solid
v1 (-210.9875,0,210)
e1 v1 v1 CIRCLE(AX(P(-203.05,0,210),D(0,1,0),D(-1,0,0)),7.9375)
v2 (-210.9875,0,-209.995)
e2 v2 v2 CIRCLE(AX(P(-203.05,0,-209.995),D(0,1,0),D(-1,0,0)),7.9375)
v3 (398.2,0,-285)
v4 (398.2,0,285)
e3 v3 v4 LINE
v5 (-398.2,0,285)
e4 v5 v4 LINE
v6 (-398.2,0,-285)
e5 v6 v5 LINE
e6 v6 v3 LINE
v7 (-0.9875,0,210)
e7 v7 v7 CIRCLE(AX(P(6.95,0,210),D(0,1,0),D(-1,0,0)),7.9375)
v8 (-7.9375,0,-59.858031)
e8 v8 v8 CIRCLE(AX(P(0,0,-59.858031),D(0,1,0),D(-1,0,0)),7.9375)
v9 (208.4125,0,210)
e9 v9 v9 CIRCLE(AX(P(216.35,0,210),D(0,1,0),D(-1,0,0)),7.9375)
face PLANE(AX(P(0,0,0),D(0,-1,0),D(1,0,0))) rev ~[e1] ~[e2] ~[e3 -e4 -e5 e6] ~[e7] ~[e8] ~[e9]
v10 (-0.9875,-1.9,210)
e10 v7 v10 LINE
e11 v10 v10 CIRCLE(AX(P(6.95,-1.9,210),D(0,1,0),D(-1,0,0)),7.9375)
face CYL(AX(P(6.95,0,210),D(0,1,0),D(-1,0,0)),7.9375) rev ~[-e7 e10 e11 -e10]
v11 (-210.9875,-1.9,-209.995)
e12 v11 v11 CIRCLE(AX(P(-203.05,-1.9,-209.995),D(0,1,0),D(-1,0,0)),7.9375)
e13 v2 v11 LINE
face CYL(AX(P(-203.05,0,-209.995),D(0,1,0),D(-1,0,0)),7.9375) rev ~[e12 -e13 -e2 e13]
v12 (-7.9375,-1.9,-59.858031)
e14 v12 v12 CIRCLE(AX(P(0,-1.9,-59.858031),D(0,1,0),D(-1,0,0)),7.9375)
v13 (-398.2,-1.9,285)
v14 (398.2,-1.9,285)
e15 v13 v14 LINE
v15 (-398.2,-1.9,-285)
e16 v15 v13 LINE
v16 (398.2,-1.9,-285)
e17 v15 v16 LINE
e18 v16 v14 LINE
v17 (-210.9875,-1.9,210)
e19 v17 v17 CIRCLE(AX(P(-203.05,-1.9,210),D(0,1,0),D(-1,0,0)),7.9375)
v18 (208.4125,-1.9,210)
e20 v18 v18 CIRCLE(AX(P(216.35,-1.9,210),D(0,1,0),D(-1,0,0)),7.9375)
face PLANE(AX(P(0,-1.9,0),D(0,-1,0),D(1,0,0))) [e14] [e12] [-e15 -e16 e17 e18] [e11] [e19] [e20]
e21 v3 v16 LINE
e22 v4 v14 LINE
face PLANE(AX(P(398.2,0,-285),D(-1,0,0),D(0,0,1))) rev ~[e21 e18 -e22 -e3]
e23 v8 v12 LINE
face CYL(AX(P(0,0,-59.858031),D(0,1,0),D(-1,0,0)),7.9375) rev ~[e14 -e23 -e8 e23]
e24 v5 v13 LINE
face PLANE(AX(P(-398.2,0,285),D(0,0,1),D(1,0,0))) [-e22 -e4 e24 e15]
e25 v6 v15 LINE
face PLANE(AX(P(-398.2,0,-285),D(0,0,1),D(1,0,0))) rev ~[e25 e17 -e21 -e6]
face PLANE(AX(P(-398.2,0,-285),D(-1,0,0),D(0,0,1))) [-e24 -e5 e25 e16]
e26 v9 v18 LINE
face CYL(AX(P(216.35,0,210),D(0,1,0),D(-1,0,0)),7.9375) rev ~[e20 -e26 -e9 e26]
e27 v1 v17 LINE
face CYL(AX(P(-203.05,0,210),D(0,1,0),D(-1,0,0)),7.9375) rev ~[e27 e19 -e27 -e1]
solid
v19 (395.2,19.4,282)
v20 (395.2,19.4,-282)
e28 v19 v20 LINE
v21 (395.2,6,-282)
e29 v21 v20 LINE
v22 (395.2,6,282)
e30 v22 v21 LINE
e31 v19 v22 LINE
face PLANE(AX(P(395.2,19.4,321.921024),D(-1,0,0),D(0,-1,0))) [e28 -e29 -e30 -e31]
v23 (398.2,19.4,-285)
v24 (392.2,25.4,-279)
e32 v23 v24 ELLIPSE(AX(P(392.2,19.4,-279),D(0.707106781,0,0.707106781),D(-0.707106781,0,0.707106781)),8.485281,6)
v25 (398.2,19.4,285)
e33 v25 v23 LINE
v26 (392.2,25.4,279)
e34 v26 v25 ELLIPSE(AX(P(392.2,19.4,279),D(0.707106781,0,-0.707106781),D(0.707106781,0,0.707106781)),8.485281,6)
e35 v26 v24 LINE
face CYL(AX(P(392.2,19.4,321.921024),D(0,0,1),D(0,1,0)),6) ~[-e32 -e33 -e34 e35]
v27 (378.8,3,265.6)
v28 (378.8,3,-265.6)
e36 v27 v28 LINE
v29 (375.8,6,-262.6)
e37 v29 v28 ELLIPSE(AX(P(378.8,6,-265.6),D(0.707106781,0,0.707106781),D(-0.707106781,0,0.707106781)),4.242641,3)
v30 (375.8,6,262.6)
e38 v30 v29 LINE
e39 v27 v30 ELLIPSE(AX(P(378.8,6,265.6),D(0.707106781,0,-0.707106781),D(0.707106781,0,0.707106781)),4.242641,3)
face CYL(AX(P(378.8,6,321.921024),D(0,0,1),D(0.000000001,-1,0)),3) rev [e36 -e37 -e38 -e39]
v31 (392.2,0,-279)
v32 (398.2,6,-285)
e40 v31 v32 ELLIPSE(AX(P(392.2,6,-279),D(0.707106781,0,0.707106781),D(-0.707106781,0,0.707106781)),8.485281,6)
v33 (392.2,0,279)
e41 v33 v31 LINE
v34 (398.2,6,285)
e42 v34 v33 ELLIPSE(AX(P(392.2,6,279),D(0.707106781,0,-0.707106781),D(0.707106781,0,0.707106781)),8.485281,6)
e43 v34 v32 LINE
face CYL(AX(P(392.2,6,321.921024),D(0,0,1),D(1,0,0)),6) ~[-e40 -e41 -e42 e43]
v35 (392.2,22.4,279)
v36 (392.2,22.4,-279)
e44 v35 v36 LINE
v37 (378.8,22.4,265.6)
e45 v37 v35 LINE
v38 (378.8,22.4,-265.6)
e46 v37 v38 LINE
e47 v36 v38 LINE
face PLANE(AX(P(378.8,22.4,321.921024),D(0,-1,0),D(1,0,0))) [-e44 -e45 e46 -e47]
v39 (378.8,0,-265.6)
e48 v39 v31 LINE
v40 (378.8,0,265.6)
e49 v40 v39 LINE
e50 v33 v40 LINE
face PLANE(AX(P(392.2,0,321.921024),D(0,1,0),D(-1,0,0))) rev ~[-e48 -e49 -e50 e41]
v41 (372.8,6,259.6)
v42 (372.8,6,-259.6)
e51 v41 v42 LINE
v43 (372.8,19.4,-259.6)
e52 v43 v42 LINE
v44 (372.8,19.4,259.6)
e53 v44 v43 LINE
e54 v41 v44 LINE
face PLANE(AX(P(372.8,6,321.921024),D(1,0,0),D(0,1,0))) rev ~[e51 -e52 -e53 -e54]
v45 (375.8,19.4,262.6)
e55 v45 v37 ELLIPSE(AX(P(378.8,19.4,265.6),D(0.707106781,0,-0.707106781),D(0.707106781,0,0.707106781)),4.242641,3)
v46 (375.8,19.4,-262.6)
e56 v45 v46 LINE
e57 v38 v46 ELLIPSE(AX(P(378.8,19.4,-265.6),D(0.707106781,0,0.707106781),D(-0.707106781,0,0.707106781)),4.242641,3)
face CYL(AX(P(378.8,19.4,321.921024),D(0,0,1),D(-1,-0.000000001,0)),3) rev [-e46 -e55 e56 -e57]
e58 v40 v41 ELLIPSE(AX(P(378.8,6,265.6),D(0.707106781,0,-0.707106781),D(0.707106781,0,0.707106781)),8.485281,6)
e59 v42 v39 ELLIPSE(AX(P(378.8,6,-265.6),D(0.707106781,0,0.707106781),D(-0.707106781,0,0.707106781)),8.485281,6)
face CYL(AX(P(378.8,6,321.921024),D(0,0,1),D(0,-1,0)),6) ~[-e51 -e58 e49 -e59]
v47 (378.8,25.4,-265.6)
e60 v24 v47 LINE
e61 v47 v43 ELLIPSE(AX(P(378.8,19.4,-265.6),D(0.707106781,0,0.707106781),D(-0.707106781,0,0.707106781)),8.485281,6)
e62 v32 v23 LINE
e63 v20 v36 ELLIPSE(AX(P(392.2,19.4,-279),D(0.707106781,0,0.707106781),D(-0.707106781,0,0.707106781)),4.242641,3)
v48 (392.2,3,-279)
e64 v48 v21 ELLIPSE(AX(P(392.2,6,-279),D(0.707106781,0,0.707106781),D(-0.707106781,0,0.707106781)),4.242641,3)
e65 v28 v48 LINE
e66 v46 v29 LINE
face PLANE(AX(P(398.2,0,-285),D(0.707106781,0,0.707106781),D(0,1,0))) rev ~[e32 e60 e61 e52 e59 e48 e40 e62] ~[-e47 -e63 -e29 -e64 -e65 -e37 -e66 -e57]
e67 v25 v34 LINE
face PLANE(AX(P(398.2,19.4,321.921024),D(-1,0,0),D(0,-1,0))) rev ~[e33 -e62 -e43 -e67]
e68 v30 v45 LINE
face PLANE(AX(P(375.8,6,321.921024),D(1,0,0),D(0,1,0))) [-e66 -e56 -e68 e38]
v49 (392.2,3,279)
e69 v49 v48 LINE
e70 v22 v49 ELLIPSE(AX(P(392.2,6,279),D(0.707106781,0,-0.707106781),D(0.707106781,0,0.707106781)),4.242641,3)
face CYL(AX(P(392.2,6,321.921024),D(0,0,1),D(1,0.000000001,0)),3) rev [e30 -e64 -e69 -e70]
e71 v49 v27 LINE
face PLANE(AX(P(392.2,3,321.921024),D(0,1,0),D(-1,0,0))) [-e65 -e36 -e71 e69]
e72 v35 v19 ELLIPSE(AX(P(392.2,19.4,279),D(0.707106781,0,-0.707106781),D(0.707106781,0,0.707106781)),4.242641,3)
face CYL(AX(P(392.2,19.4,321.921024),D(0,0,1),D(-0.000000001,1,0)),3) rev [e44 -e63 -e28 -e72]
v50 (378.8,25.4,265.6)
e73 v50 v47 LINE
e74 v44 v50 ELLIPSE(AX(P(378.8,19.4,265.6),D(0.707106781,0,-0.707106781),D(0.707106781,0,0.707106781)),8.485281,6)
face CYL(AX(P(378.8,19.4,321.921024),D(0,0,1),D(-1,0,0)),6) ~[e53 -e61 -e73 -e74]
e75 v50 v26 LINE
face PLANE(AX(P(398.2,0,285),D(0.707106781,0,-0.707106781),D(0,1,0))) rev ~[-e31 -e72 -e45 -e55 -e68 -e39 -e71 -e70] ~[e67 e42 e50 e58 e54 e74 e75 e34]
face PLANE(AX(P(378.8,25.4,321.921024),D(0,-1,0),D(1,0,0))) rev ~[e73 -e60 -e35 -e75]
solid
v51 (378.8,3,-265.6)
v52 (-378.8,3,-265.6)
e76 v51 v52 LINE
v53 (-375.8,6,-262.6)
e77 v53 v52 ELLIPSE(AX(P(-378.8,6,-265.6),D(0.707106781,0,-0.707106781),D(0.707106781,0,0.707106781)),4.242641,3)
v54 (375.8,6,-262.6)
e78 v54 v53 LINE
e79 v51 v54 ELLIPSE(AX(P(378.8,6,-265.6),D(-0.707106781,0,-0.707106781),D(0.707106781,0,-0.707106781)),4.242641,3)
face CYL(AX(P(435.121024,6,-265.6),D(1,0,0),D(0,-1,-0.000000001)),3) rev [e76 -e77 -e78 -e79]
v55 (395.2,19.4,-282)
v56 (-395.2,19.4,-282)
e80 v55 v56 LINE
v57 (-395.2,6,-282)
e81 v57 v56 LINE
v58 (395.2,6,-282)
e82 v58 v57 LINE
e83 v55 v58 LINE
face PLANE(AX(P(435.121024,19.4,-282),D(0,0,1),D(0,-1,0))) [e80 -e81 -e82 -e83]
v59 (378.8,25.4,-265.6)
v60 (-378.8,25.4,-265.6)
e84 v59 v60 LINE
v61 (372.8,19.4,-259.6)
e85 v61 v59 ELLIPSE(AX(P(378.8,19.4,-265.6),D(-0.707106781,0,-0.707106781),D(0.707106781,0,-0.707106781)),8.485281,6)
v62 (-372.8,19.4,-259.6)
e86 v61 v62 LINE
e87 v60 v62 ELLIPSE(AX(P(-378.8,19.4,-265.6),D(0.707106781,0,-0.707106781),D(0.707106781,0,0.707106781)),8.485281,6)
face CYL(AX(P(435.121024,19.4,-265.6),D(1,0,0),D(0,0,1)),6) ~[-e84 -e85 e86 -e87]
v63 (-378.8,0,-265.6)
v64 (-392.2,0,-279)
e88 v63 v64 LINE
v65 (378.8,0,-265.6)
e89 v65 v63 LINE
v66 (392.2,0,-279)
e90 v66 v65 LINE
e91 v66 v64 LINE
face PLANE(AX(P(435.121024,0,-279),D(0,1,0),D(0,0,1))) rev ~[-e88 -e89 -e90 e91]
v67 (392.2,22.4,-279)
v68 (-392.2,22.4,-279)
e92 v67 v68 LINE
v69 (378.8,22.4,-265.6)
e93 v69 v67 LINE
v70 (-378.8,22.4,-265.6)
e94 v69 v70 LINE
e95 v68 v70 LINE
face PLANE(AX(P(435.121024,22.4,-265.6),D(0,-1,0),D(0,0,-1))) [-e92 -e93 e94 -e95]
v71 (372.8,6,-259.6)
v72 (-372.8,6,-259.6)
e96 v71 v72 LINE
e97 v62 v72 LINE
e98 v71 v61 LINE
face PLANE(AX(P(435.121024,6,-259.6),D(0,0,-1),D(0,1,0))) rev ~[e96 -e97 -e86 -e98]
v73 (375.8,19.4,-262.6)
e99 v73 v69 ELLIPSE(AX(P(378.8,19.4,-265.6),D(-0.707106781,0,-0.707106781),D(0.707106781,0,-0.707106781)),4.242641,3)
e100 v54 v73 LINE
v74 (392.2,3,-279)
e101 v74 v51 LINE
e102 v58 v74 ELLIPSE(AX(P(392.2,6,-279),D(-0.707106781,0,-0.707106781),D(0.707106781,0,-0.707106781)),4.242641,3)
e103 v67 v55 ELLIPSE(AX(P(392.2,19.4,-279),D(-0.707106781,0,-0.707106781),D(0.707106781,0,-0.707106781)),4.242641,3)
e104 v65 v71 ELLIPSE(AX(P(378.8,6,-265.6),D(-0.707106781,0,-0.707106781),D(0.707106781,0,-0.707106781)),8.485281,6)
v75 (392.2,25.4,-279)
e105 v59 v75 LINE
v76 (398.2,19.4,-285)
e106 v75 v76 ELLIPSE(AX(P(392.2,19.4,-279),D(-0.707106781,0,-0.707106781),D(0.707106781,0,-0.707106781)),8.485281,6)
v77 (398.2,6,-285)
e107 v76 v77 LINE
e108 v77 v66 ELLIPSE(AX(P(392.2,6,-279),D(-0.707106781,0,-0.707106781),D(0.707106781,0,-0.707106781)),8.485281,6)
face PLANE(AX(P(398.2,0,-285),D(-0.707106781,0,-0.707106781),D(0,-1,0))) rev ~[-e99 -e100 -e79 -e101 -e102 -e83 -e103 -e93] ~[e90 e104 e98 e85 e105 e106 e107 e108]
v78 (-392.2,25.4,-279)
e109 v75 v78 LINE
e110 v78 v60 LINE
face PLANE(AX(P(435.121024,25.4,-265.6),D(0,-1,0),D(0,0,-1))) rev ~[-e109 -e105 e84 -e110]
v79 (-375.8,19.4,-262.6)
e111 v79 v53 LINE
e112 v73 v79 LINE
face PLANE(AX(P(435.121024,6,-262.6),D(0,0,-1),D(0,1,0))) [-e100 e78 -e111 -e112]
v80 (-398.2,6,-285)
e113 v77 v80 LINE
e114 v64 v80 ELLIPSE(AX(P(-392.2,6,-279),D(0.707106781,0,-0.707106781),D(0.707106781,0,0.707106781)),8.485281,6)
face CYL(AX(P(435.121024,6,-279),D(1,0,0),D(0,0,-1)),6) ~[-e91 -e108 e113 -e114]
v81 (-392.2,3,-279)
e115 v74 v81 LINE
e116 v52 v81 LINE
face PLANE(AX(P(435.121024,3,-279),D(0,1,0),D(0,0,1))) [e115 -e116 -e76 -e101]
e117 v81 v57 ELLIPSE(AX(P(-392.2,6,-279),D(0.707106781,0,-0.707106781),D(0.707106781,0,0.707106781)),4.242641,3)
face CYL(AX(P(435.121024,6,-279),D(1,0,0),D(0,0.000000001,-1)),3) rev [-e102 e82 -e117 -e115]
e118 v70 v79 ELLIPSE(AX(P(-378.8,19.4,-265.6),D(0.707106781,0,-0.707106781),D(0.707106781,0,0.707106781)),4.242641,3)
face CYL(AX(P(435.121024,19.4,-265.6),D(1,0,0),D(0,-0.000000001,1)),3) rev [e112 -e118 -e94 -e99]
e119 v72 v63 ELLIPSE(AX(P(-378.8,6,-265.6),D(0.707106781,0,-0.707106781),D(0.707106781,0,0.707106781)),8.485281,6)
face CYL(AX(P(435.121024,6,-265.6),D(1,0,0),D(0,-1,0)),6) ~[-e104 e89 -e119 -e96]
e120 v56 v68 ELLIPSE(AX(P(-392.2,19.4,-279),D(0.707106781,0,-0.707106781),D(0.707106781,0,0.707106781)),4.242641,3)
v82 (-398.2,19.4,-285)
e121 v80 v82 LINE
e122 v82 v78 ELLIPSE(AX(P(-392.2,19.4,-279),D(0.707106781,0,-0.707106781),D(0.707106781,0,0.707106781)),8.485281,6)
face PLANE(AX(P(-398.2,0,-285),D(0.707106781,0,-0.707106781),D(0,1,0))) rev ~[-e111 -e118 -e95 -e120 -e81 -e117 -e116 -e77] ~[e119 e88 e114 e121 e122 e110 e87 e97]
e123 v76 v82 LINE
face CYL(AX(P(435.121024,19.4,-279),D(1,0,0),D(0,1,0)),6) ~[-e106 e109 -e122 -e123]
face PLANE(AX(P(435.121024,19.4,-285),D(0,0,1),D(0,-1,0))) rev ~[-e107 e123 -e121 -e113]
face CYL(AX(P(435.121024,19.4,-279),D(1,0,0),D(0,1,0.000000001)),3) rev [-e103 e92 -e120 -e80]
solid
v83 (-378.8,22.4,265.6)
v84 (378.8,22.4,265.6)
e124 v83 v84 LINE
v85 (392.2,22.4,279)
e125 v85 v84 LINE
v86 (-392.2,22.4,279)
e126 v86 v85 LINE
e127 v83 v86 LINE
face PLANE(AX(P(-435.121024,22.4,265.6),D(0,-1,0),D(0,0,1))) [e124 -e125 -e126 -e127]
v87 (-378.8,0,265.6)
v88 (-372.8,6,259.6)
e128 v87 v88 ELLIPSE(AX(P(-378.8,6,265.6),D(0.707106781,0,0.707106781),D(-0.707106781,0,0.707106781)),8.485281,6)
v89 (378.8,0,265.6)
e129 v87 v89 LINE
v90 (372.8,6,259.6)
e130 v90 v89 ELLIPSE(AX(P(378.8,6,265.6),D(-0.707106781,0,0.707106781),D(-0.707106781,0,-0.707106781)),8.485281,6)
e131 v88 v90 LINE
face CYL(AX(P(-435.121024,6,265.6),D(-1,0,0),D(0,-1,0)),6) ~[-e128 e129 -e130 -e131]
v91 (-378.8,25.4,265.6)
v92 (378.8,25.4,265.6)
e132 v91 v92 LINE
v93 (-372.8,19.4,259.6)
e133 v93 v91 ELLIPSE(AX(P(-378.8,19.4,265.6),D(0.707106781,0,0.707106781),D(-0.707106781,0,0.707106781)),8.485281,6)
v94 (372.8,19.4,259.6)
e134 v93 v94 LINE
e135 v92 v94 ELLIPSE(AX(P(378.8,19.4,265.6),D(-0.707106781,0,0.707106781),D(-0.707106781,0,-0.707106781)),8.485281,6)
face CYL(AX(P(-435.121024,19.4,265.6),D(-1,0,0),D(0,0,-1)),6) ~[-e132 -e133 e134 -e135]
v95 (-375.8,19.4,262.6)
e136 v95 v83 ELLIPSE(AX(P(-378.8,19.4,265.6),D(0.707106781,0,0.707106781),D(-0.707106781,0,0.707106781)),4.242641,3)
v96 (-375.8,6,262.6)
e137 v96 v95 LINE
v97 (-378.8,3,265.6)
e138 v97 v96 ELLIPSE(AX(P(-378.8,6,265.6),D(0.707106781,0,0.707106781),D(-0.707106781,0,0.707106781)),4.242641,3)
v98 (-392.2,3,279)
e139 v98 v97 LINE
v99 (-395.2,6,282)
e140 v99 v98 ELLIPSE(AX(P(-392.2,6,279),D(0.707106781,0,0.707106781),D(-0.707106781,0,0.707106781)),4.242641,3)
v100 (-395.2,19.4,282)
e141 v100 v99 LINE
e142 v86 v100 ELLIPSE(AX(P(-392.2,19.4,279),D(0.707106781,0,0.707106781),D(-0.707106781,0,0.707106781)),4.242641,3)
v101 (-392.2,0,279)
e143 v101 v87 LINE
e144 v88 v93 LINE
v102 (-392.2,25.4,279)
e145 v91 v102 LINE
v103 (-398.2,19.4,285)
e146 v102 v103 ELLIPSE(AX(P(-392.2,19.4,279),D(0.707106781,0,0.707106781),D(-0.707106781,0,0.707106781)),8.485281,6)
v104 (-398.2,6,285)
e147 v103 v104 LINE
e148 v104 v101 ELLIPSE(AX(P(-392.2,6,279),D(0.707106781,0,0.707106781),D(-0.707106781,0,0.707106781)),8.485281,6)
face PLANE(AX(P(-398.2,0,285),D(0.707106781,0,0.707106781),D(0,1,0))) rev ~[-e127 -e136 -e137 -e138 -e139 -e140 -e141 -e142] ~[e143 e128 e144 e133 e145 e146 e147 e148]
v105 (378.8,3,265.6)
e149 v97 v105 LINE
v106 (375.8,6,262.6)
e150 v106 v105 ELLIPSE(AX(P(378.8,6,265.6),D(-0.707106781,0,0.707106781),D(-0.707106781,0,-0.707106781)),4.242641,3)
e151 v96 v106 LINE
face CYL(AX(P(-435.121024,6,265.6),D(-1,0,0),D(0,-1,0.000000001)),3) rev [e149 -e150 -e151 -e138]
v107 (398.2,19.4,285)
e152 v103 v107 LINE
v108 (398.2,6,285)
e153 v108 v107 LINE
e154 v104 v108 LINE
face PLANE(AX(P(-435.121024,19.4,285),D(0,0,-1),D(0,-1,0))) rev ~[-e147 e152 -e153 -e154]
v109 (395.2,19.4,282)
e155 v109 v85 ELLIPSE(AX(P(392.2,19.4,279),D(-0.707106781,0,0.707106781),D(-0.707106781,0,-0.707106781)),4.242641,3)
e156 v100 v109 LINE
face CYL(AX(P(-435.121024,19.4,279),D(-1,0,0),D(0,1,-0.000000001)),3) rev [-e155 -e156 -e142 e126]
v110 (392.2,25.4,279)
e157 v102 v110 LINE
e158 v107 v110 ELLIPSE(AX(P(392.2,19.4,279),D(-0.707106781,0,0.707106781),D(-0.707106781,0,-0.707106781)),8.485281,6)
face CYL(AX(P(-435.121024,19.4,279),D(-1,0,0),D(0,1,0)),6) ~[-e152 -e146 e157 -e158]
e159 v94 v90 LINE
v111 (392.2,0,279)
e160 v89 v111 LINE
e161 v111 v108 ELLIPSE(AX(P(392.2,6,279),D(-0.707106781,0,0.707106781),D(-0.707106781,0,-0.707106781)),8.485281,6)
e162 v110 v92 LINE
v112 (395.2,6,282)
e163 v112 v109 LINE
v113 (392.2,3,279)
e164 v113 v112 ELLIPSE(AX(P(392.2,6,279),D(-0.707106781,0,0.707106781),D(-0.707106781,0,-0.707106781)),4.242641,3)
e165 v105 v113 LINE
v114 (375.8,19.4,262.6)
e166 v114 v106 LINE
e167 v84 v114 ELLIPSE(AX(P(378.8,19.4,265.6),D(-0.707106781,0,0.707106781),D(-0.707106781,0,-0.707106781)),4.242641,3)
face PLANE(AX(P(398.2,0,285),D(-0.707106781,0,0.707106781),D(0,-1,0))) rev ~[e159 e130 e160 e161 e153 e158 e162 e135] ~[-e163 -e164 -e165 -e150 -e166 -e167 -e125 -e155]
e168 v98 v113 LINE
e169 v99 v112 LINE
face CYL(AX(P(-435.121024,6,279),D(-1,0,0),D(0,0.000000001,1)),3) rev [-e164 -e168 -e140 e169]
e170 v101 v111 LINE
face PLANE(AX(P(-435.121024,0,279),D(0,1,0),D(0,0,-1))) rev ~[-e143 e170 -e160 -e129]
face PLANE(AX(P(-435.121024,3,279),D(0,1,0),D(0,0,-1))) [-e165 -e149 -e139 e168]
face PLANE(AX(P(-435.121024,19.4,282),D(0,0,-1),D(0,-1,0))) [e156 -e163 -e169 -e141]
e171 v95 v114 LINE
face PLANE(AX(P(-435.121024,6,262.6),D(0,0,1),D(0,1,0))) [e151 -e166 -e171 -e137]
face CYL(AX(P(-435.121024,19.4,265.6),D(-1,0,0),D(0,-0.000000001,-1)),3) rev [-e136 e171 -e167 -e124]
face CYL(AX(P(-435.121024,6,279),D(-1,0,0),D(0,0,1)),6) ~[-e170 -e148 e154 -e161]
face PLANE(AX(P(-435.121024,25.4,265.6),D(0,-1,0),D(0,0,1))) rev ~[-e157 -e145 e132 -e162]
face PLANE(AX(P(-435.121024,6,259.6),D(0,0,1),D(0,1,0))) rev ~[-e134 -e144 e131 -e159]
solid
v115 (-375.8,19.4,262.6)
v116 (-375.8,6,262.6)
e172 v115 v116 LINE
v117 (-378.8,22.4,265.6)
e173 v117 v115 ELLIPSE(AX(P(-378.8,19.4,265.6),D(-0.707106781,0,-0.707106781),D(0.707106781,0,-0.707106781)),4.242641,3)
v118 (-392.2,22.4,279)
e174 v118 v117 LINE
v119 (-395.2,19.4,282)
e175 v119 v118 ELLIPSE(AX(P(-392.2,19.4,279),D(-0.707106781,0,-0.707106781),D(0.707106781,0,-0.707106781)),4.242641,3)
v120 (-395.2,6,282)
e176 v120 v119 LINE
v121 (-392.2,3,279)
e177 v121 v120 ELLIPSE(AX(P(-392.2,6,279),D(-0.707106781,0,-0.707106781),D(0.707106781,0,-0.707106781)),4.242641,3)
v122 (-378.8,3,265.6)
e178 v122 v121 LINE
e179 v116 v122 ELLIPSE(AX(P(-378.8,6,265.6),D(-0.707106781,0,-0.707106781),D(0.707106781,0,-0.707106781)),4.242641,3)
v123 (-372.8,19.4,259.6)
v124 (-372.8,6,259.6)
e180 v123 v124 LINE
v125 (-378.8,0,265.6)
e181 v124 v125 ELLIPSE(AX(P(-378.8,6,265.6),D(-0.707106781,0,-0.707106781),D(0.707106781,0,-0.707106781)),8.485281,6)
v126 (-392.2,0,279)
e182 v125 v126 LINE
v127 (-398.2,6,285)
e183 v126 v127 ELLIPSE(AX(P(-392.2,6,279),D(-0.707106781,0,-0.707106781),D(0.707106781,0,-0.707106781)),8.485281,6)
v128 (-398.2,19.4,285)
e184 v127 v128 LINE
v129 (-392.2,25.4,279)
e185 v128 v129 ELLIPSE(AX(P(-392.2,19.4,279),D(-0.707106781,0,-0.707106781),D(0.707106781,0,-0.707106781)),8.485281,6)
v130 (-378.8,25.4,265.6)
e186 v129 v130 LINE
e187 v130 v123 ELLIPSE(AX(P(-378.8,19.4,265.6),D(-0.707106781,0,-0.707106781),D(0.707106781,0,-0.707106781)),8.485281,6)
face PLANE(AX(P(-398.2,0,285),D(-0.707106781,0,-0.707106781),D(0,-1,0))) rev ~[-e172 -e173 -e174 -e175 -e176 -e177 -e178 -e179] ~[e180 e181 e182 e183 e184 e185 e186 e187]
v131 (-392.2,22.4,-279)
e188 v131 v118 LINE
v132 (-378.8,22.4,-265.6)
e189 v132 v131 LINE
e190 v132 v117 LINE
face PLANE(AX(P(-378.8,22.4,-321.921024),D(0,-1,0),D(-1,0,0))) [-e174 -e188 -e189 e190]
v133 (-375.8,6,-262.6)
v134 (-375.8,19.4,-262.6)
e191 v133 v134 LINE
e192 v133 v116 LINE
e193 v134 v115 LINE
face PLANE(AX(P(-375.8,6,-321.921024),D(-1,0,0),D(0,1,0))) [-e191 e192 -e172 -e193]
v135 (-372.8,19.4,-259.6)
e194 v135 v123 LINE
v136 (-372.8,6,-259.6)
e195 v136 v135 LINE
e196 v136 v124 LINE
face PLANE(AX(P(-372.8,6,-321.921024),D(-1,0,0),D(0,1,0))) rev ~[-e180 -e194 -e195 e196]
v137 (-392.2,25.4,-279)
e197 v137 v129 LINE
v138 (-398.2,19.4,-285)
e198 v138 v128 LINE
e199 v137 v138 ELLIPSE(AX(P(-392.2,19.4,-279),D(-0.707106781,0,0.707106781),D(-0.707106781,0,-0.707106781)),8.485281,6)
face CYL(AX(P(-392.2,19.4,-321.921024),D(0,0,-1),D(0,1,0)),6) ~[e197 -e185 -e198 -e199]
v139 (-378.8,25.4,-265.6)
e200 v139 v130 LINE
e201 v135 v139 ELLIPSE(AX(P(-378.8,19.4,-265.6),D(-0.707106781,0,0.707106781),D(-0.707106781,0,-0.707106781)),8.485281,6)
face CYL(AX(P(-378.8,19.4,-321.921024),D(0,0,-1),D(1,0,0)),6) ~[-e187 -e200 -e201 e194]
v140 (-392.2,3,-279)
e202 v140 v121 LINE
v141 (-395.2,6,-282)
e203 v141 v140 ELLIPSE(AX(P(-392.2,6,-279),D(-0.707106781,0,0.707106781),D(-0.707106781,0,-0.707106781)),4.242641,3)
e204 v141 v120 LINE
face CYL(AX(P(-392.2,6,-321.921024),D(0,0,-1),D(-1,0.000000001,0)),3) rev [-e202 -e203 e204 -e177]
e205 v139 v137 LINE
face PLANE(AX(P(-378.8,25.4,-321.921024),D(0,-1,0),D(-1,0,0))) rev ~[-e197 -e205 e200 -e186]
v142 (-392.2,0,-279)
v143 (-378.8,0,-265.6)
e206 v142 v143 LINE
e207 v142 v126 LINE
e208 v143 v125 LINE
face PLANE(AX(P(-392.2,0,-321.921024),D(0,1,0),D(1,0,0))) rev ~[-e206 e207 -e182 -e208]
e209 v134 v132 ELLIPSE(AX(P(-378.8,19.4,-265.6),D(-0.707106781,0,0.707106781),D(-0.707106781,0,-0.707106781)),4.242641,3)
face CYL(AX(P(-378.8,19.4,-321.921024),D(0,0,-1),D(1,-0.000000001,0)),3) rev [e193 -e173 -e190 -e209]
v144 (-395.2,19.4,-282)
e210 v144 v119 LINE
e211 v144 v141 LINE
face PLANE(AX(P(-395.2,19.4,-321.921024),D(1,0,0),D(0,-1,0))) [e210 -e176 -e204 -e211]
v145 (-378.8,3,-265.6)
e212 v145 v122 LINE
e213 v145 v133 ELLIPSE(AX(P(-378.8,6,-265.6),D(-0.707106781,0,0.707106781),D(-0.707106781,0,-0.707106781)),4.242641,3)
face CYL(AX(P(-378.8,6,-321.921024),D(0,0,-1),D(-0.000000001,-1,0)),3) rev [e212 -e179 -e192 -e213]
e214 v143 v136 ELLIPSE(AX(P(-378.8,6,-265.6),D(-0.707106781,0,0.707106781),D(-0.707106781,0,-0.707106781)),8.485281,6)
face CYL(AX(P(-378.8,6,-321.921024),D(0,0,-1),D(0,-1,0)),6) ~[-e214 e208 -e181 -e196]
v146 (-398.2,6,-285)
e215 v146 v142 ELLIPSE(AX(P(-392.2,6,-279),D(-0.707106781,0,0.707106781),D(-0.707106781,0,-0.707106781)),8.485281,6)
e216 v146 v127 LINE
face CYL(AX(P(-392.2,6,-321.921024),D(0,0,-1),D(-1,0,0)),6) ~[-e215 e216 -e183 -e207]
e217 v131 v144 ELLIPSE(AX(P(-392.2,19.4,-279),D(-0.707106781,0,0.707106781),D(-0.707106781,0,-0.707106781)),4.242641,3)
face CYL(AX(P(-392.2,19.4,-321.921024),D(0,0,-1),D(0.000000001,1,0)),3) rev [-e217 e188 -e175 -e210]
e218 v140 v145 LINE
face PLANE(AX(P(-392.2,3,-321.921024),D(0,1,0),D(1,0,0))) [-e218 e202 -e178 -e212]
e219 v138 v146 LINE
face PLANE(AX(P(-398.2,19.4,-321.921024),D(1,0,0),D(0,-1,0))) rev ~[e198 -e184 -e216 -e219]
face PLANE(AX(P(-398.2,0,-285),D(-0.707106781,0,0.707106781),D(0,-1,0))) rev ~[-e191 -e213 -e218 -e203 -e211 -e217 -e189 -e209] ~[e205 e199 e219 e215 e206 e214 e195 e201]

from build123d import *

# Parameters (mm, degrees)
TUBO_CUADRADO_2_X_2_X_0_25_1_DEPTH      = 606.921024484
TUBO_CUADRADO_2_X_2_X_0_25_1_DEPTH_BACK = 36.921024484
TUBO_CUADRADO_2_X_2_X_0_25_1_2_DEPTH    = 870.242048969
TUBO_CUADRADO_2_X_2_X_0_25_1_3_DEPTH    = 643.842048969
TUBO_CUADRADO_2_X_2_X_0_25_1_4_DEPTH    = 870.242048969
CROQUIS3_W                              = 796.4
CROQUIS3_H                              = 570
SALIENTE_EXTRUIR1_DEPTH                 = 1.9
CROQUIS4_R                              = 7.9375
CORTAR_EXTRUIR1_DEPTH                   = 10


with BuildPart() as part:
    # Sketch1 → Tubo cuadrado 2 X 2 X 0.25(1) (new, two sides: drawn at the far end of the back side and taken through both)
    with BuildSketch(Plane(origin=(-385.5, 12.7, -285), x_dir=(1, 0, 0), z_dir=(0, 0, 1)).offset(-TUBO_CUADRADO_2_X_2_X_0_25_1_DEPTH_BACK)):
        with BuildLine():
            Line((-6.7, -12.7), (6.7, -12.7))
            ThreePointArc((6.7, -12.7), (10.942640687, -10.942640687), (12.7, -6.7))
            Line((12.7, -6.7), (12.7, 6.7))
            ThreePointArc((12.7, 6.7), (10.942640687, 10.942640687), (6.7, 12.7))
            Line((6.7, 12.7), (-6.7, 12.7))
            ThreePointArc((-6.7, 12.7), (-10.942640687, 10.942640687), (-12.7, 6.7))
            Line((-12.7, 6.7), (-12.7, -6.7))
            ThreePointArc((-12.7, -6.7), (-10.942640687, -10.942640687), (-6.7, -12.7))
        make_face()
        with BuildLine():
            Line((-6.7, -9.7), (6.7, -9.7))
            ThreePointArc((6.7, -9.7), (8.821320344, -8.821320344), (9.7, -6.7))
            Line((9.7, -6.7), (9.7, 6.7))
            ThreePointArc((9.7, 6.7), (8.821320344, 8.821320344), (6.7, 9.7))
            Line((6.7, 9.7), (-6.7, 9.7))
            ThreePointArc((-6.7, 9.7), (-8.821320344, 8.821320344), (-9.7, 6.7))
            Line((-9.7, 6.7), (-9.7, -6.7))
            ThreePointArc((-9.7, -6.7), (-8.821320344, -8.821320344), (-6.7, -9.7))
        make_face(mode=Mode.SUBTRACT)
    extrude(amount=TUBO_CUADRADO_2_X_2_X_0_25_1_DEPTH + TUBO_CUADRADO_2_X_2_X_0_25_1_DEPTH_BACK)

    # Tubo cuadrado 2 X 2 X 0.25(1) mitre 1
    split(bisect_by=Plane(origin=(-398.2, 0, -285), x_dir=(0, -1, 0), z_dir=(-0.707106781, 0, 0.707106781)), keep=Keep.TOP)

    # Tubo cuadrado 2 X 2 X 0.25(1) mitre 2
    split(bisect_by=Plane(origin=(-398.2, 0, 285), x_dir=(0, -1, 0), z_dir=(-0.707106781, 0, -0.707106781)), keep=Keep.TOP)


with BuildPart() as body_2:
    # Sketch1 on segment 2 (carried to segment 2) → Tubo cuadrado 2 X 2 X 0.25_1 2 (new body)
    with BuildSketch(Plane(origin=(-435.121024484, 12.7, 272.3), x_dir=(0, 0, -1), z_dir=(1, 0, 0))):
        with BuildLine():
            Line((-6.7, -12.7), (6.7, -12.7))
            ThreePointArc((6.7, -12.7), (10.942640687, -10.942640687), (12.7, -6.7))
            Line((12.7, -6.7), (12.7, 6.7))
            ThreePointArc((12.7, 6.7), (10.942640687, 10.942640687), (6.7, 12.7))
            Line((6.7, 12.7), (-6.7, 12.7))
            ThreePointArc((-6.7, 12.7), (-10.942640687, 10.942640687), (-12.7, 6.7))
            Line((-12.7, 6.7), (-12.7, -6.7))
            ThreePointArc((-12.7, -6.7), (-10.942640687, -10.942640687), (-6.7, -12.7))
        make_face()
        with BuildLine():
            Line((-6.7, -9.7), (6.7, -9.7))
            ThreePointArc((6.7, -9.7), (8.821320344, -8.821320344), (9.7, -6.7))
            Line((9.7, -6.7), (9.7, 6.7))
            ThreePointArc((9.7, 6.7), (8.821320344, 8.821320344), (6.7, 9.7))
            Line((6.7, 9.7), (-6.7, 9.7))
            ThreePointArc((-6.7, 9.7), (-8.821320344, 8.821320344), (-9.7, 6.7))
            Line((-9.7, 6.7), (-9.7, -6.7))
            ThreePointArc((-9.7, -6.7), (-8.821320344, -8.821320344), (-6.7, -9.7))
        make_face(mode=Mode.SUBTRACT)
    extrude(amount=TUBO_CUADRADO_2_X_2_X_0_25_1_2_DEPTH)

    # Tubo cuadrado 2 X 2 X 0.25_1 2 mitre 1
    split(bisect_by=Plane(origin=(-398.2, 0, 285), x_dir=(0, 1, 0), z_dir=(0.707106781, 0, 0.707106781)), keep=Keep.TOP)

    # Tubo cuadrado 2 X 2 X 0.25_1 2 mitre 2
    split(bisect_by=Plane(origin=(398.2, 0, 285), x_dir=(0, -1, 0), z_dir=(-0.707106781, 0, 0.707106781)), keep=Keep.TOP)


with BuildPart() as body_3:
    # Sketch1 on segment 3 (carried to segment 3) → Tubo cuadrado 2 X 2 X 0.25_1 3 (new body)
    with BuildSketch(Plane(origin=(385.5, 12.7, 321.921024484), x_dir=(-1, 0, 0), z_dir=(0, 0, -1))):
        with BuildLine():
            Line((-6.7, -12.7), (6.7, -12.7))
            ThreePointArc((6.7, -12.7), (10.942640687, -10.942640687), (12.7, -6.7))
            Line((12.7, -6.7), (12.7, 6.7))
            ThreePointArc((12.7, 6.7), (10.942640687, 10.942640687), (6.7, 12.7))
            Line((6.7, 12.7), (-6.7, 12.7))
            ThreePointArc((-6.7, 12.7), (-10.942640687, 10.942640687), (-12.7, 6.7))
            Line((-12.7, 6.7), (-12.7, -6.7))
            ThreePointArc((-12.7, -6.7), (-10.942640687, -10.942640687), (-6.7, -12.7))
        make_face()
        with BuildLine():
            Line((-6.7, -9.7), (6.7, -9.7))
            ThreePointArc((6.7, -9.7), (8.821320344, -8.821320344), (9.7, -6.7))
            Line((9.7, -6.7), (9.7, 6.7))
            ThreePointArc((9.7, 6.7), (8.821320344, 8.821320344), (6.7, 9.7))
            Line((6.7, 9.7), (-6.7, 9.7))
            ThreePointArc((-6.7, 9.7), (-8.821320344, 8.821320344), (-9.7, 6.7))
            Line((-9.7, 6.7), (-9.7, -6.7))
            ThreePointArc((-9.7, -6.7), (-8.821320344, -8.821320344), (-6.7, -9.7))
        make_face(mode=Mode.SUBTRACT)
    extrude(amount=TUBO_CUADRADO_2_X_2_X_0_25_1_3_DEPTH)

    # Tubo cuadrado 2 X 2 X 0.25_1 3 mitre 1
    split(bisect_by=Plane(origin=(398.2, 0, -285), x_dir=(0, 1, 0), z_dir=(0.707106781, 0, 0.707106781)), keep=Keep.TOP)

    # Tubo cuadrado 2 X 2 X 0.25_1 3 mitre 2
    split(bisect_by=Plane(origin=(398.2, 0, 285), x_dir=(0, 1, 0), z_dir=(0.707106781, 0, -0.707106781)), keep=Keep.TOP)


with BuildPart() as body_4:
    # Sketch1 on segment 4 (carried to segment 4) → Tubo cuadrado 2 X 2 X 0.25_1 4 (new body)
    with BuildSketch(Plane(origin=(435.121024484, 12.7, -272.3), x_dir=(0, 0, 1), z_dir=(-1, 0, 0))):
        with BuildLine():
            Line((-6.7, -12.7), (6.7, -12.7))
            ThreePointArc((6.7, -12.7), (10.942640687, -10.942640687), (12.7, -6.7))
            Line((12.7, -6.7), (12.7, 6.7))
            ThreePointArc((12.7, 6.7), (10.942640687, 10.942640687), (6.7, 12.7))
            Line((6.7, 12.7), (-6.7, 12.7))
            ThreePointArc((-6.7, 12.7), (-10.942640687, 10.942640687), (-12.7, 6.7))
            Line((-12.7, 6.7), (-12.7, -6.7))
            ThreePointArc((-12.7, -6.7), (-10.942640687, -10.942640687), (-6.7, -12.7))
        make_face()
        with BuildLine():
            Line((-6.7, -9.7), (6.7, -9.7))
            ThreePointArc((6.7, -9.7), (8.821320344, -8.821320344), (9.7, -6.7))
            Line((9.7, -6.7), (9.7, 6.7))
            ThreePointArc((9.7, 6.7), (8.821320344, 8.821320344), (6.7, 9.7))
            Line((6.7, 9.7), (-6.7, 9.7))
            ThreePointArc((-6.7, 9.7), (-8.821320344, 8.821320344), (-9.7, 6.7))
            Line((-9.7, 6.7), (-9.7, -6.7))
            ThreePointArc((-9.7, -6.7), (-8.821320344, -8.821320344), (-6.7, -9.7))
        make_face(mode=Mode.SUBTRACT)
    extrude(amount=TUBO_CUADRADO_2_X_2_X_0_25_1_4_DEPTH)

    # Tubo cuadrado 2 X 2 X 0.25_1 4 mitre 1
    split(bisect_by=Plane(origin=(-398.2, 0, -285), x_dir=(0, 1, 0), z_dir=(0.707106781, 0, -0.707106781)), keep=Keep.TOP)

    # Tubo cuadrado 2 X 2 X 0.25_1 4 mitre 2
    split(bisect_by=Plane(origin=(398.2, 0, -285), x_dir=(0, -1, 0), z_dir=(-0.707106781, 0, -0.707106781)), keep=Keep.TOP)


with BuildPart() as body_5:
    # Croquis3 → Saliente-Extruir1 (new body)
    with BuildSketch(Plane.XZ):
        Rectangle(CROQUIS3_W, CROQUIS3_H)
    extrude(amount=SALIENTE_EXTRUIR1_DEPTH)

    # Croquis4 → Cortar-Extruir1 (cut)
    with BuildSketch(Plane(origin=(0, 0, 0), x_dir=(1, 0, 0), z_dir=(0, 1, 0))):
        with Locations(Location((216.35, -210, 0), (0, 0, 180))):
            Circle(CROQUIS4_R)
        with Locations(Location((6.95, -210, 0), (0, 0, 180))):
            Circle(CROQUIS4_R)
        with Locations(Location((-203.05, -210, 0), (0, 0, 180))):
            Circle(CROQUIS4_R)
        with Locations(Location((-203.05, 209.995, 0), (0, 0, 180))):
            Circle(CROQUIS4_R)
        with Locations(Location((0, 59.858030887, 0), (0, 0, 180))):
            Circle(CROQUIS4_R)
    extrude(amount=-CORTAR_EXTRUIR1_DEPTH, mode=Mode.SUBTRACT)


solid = Compound([part.part, body_2.part, body_3.part, body_4.part, body_5.part])
